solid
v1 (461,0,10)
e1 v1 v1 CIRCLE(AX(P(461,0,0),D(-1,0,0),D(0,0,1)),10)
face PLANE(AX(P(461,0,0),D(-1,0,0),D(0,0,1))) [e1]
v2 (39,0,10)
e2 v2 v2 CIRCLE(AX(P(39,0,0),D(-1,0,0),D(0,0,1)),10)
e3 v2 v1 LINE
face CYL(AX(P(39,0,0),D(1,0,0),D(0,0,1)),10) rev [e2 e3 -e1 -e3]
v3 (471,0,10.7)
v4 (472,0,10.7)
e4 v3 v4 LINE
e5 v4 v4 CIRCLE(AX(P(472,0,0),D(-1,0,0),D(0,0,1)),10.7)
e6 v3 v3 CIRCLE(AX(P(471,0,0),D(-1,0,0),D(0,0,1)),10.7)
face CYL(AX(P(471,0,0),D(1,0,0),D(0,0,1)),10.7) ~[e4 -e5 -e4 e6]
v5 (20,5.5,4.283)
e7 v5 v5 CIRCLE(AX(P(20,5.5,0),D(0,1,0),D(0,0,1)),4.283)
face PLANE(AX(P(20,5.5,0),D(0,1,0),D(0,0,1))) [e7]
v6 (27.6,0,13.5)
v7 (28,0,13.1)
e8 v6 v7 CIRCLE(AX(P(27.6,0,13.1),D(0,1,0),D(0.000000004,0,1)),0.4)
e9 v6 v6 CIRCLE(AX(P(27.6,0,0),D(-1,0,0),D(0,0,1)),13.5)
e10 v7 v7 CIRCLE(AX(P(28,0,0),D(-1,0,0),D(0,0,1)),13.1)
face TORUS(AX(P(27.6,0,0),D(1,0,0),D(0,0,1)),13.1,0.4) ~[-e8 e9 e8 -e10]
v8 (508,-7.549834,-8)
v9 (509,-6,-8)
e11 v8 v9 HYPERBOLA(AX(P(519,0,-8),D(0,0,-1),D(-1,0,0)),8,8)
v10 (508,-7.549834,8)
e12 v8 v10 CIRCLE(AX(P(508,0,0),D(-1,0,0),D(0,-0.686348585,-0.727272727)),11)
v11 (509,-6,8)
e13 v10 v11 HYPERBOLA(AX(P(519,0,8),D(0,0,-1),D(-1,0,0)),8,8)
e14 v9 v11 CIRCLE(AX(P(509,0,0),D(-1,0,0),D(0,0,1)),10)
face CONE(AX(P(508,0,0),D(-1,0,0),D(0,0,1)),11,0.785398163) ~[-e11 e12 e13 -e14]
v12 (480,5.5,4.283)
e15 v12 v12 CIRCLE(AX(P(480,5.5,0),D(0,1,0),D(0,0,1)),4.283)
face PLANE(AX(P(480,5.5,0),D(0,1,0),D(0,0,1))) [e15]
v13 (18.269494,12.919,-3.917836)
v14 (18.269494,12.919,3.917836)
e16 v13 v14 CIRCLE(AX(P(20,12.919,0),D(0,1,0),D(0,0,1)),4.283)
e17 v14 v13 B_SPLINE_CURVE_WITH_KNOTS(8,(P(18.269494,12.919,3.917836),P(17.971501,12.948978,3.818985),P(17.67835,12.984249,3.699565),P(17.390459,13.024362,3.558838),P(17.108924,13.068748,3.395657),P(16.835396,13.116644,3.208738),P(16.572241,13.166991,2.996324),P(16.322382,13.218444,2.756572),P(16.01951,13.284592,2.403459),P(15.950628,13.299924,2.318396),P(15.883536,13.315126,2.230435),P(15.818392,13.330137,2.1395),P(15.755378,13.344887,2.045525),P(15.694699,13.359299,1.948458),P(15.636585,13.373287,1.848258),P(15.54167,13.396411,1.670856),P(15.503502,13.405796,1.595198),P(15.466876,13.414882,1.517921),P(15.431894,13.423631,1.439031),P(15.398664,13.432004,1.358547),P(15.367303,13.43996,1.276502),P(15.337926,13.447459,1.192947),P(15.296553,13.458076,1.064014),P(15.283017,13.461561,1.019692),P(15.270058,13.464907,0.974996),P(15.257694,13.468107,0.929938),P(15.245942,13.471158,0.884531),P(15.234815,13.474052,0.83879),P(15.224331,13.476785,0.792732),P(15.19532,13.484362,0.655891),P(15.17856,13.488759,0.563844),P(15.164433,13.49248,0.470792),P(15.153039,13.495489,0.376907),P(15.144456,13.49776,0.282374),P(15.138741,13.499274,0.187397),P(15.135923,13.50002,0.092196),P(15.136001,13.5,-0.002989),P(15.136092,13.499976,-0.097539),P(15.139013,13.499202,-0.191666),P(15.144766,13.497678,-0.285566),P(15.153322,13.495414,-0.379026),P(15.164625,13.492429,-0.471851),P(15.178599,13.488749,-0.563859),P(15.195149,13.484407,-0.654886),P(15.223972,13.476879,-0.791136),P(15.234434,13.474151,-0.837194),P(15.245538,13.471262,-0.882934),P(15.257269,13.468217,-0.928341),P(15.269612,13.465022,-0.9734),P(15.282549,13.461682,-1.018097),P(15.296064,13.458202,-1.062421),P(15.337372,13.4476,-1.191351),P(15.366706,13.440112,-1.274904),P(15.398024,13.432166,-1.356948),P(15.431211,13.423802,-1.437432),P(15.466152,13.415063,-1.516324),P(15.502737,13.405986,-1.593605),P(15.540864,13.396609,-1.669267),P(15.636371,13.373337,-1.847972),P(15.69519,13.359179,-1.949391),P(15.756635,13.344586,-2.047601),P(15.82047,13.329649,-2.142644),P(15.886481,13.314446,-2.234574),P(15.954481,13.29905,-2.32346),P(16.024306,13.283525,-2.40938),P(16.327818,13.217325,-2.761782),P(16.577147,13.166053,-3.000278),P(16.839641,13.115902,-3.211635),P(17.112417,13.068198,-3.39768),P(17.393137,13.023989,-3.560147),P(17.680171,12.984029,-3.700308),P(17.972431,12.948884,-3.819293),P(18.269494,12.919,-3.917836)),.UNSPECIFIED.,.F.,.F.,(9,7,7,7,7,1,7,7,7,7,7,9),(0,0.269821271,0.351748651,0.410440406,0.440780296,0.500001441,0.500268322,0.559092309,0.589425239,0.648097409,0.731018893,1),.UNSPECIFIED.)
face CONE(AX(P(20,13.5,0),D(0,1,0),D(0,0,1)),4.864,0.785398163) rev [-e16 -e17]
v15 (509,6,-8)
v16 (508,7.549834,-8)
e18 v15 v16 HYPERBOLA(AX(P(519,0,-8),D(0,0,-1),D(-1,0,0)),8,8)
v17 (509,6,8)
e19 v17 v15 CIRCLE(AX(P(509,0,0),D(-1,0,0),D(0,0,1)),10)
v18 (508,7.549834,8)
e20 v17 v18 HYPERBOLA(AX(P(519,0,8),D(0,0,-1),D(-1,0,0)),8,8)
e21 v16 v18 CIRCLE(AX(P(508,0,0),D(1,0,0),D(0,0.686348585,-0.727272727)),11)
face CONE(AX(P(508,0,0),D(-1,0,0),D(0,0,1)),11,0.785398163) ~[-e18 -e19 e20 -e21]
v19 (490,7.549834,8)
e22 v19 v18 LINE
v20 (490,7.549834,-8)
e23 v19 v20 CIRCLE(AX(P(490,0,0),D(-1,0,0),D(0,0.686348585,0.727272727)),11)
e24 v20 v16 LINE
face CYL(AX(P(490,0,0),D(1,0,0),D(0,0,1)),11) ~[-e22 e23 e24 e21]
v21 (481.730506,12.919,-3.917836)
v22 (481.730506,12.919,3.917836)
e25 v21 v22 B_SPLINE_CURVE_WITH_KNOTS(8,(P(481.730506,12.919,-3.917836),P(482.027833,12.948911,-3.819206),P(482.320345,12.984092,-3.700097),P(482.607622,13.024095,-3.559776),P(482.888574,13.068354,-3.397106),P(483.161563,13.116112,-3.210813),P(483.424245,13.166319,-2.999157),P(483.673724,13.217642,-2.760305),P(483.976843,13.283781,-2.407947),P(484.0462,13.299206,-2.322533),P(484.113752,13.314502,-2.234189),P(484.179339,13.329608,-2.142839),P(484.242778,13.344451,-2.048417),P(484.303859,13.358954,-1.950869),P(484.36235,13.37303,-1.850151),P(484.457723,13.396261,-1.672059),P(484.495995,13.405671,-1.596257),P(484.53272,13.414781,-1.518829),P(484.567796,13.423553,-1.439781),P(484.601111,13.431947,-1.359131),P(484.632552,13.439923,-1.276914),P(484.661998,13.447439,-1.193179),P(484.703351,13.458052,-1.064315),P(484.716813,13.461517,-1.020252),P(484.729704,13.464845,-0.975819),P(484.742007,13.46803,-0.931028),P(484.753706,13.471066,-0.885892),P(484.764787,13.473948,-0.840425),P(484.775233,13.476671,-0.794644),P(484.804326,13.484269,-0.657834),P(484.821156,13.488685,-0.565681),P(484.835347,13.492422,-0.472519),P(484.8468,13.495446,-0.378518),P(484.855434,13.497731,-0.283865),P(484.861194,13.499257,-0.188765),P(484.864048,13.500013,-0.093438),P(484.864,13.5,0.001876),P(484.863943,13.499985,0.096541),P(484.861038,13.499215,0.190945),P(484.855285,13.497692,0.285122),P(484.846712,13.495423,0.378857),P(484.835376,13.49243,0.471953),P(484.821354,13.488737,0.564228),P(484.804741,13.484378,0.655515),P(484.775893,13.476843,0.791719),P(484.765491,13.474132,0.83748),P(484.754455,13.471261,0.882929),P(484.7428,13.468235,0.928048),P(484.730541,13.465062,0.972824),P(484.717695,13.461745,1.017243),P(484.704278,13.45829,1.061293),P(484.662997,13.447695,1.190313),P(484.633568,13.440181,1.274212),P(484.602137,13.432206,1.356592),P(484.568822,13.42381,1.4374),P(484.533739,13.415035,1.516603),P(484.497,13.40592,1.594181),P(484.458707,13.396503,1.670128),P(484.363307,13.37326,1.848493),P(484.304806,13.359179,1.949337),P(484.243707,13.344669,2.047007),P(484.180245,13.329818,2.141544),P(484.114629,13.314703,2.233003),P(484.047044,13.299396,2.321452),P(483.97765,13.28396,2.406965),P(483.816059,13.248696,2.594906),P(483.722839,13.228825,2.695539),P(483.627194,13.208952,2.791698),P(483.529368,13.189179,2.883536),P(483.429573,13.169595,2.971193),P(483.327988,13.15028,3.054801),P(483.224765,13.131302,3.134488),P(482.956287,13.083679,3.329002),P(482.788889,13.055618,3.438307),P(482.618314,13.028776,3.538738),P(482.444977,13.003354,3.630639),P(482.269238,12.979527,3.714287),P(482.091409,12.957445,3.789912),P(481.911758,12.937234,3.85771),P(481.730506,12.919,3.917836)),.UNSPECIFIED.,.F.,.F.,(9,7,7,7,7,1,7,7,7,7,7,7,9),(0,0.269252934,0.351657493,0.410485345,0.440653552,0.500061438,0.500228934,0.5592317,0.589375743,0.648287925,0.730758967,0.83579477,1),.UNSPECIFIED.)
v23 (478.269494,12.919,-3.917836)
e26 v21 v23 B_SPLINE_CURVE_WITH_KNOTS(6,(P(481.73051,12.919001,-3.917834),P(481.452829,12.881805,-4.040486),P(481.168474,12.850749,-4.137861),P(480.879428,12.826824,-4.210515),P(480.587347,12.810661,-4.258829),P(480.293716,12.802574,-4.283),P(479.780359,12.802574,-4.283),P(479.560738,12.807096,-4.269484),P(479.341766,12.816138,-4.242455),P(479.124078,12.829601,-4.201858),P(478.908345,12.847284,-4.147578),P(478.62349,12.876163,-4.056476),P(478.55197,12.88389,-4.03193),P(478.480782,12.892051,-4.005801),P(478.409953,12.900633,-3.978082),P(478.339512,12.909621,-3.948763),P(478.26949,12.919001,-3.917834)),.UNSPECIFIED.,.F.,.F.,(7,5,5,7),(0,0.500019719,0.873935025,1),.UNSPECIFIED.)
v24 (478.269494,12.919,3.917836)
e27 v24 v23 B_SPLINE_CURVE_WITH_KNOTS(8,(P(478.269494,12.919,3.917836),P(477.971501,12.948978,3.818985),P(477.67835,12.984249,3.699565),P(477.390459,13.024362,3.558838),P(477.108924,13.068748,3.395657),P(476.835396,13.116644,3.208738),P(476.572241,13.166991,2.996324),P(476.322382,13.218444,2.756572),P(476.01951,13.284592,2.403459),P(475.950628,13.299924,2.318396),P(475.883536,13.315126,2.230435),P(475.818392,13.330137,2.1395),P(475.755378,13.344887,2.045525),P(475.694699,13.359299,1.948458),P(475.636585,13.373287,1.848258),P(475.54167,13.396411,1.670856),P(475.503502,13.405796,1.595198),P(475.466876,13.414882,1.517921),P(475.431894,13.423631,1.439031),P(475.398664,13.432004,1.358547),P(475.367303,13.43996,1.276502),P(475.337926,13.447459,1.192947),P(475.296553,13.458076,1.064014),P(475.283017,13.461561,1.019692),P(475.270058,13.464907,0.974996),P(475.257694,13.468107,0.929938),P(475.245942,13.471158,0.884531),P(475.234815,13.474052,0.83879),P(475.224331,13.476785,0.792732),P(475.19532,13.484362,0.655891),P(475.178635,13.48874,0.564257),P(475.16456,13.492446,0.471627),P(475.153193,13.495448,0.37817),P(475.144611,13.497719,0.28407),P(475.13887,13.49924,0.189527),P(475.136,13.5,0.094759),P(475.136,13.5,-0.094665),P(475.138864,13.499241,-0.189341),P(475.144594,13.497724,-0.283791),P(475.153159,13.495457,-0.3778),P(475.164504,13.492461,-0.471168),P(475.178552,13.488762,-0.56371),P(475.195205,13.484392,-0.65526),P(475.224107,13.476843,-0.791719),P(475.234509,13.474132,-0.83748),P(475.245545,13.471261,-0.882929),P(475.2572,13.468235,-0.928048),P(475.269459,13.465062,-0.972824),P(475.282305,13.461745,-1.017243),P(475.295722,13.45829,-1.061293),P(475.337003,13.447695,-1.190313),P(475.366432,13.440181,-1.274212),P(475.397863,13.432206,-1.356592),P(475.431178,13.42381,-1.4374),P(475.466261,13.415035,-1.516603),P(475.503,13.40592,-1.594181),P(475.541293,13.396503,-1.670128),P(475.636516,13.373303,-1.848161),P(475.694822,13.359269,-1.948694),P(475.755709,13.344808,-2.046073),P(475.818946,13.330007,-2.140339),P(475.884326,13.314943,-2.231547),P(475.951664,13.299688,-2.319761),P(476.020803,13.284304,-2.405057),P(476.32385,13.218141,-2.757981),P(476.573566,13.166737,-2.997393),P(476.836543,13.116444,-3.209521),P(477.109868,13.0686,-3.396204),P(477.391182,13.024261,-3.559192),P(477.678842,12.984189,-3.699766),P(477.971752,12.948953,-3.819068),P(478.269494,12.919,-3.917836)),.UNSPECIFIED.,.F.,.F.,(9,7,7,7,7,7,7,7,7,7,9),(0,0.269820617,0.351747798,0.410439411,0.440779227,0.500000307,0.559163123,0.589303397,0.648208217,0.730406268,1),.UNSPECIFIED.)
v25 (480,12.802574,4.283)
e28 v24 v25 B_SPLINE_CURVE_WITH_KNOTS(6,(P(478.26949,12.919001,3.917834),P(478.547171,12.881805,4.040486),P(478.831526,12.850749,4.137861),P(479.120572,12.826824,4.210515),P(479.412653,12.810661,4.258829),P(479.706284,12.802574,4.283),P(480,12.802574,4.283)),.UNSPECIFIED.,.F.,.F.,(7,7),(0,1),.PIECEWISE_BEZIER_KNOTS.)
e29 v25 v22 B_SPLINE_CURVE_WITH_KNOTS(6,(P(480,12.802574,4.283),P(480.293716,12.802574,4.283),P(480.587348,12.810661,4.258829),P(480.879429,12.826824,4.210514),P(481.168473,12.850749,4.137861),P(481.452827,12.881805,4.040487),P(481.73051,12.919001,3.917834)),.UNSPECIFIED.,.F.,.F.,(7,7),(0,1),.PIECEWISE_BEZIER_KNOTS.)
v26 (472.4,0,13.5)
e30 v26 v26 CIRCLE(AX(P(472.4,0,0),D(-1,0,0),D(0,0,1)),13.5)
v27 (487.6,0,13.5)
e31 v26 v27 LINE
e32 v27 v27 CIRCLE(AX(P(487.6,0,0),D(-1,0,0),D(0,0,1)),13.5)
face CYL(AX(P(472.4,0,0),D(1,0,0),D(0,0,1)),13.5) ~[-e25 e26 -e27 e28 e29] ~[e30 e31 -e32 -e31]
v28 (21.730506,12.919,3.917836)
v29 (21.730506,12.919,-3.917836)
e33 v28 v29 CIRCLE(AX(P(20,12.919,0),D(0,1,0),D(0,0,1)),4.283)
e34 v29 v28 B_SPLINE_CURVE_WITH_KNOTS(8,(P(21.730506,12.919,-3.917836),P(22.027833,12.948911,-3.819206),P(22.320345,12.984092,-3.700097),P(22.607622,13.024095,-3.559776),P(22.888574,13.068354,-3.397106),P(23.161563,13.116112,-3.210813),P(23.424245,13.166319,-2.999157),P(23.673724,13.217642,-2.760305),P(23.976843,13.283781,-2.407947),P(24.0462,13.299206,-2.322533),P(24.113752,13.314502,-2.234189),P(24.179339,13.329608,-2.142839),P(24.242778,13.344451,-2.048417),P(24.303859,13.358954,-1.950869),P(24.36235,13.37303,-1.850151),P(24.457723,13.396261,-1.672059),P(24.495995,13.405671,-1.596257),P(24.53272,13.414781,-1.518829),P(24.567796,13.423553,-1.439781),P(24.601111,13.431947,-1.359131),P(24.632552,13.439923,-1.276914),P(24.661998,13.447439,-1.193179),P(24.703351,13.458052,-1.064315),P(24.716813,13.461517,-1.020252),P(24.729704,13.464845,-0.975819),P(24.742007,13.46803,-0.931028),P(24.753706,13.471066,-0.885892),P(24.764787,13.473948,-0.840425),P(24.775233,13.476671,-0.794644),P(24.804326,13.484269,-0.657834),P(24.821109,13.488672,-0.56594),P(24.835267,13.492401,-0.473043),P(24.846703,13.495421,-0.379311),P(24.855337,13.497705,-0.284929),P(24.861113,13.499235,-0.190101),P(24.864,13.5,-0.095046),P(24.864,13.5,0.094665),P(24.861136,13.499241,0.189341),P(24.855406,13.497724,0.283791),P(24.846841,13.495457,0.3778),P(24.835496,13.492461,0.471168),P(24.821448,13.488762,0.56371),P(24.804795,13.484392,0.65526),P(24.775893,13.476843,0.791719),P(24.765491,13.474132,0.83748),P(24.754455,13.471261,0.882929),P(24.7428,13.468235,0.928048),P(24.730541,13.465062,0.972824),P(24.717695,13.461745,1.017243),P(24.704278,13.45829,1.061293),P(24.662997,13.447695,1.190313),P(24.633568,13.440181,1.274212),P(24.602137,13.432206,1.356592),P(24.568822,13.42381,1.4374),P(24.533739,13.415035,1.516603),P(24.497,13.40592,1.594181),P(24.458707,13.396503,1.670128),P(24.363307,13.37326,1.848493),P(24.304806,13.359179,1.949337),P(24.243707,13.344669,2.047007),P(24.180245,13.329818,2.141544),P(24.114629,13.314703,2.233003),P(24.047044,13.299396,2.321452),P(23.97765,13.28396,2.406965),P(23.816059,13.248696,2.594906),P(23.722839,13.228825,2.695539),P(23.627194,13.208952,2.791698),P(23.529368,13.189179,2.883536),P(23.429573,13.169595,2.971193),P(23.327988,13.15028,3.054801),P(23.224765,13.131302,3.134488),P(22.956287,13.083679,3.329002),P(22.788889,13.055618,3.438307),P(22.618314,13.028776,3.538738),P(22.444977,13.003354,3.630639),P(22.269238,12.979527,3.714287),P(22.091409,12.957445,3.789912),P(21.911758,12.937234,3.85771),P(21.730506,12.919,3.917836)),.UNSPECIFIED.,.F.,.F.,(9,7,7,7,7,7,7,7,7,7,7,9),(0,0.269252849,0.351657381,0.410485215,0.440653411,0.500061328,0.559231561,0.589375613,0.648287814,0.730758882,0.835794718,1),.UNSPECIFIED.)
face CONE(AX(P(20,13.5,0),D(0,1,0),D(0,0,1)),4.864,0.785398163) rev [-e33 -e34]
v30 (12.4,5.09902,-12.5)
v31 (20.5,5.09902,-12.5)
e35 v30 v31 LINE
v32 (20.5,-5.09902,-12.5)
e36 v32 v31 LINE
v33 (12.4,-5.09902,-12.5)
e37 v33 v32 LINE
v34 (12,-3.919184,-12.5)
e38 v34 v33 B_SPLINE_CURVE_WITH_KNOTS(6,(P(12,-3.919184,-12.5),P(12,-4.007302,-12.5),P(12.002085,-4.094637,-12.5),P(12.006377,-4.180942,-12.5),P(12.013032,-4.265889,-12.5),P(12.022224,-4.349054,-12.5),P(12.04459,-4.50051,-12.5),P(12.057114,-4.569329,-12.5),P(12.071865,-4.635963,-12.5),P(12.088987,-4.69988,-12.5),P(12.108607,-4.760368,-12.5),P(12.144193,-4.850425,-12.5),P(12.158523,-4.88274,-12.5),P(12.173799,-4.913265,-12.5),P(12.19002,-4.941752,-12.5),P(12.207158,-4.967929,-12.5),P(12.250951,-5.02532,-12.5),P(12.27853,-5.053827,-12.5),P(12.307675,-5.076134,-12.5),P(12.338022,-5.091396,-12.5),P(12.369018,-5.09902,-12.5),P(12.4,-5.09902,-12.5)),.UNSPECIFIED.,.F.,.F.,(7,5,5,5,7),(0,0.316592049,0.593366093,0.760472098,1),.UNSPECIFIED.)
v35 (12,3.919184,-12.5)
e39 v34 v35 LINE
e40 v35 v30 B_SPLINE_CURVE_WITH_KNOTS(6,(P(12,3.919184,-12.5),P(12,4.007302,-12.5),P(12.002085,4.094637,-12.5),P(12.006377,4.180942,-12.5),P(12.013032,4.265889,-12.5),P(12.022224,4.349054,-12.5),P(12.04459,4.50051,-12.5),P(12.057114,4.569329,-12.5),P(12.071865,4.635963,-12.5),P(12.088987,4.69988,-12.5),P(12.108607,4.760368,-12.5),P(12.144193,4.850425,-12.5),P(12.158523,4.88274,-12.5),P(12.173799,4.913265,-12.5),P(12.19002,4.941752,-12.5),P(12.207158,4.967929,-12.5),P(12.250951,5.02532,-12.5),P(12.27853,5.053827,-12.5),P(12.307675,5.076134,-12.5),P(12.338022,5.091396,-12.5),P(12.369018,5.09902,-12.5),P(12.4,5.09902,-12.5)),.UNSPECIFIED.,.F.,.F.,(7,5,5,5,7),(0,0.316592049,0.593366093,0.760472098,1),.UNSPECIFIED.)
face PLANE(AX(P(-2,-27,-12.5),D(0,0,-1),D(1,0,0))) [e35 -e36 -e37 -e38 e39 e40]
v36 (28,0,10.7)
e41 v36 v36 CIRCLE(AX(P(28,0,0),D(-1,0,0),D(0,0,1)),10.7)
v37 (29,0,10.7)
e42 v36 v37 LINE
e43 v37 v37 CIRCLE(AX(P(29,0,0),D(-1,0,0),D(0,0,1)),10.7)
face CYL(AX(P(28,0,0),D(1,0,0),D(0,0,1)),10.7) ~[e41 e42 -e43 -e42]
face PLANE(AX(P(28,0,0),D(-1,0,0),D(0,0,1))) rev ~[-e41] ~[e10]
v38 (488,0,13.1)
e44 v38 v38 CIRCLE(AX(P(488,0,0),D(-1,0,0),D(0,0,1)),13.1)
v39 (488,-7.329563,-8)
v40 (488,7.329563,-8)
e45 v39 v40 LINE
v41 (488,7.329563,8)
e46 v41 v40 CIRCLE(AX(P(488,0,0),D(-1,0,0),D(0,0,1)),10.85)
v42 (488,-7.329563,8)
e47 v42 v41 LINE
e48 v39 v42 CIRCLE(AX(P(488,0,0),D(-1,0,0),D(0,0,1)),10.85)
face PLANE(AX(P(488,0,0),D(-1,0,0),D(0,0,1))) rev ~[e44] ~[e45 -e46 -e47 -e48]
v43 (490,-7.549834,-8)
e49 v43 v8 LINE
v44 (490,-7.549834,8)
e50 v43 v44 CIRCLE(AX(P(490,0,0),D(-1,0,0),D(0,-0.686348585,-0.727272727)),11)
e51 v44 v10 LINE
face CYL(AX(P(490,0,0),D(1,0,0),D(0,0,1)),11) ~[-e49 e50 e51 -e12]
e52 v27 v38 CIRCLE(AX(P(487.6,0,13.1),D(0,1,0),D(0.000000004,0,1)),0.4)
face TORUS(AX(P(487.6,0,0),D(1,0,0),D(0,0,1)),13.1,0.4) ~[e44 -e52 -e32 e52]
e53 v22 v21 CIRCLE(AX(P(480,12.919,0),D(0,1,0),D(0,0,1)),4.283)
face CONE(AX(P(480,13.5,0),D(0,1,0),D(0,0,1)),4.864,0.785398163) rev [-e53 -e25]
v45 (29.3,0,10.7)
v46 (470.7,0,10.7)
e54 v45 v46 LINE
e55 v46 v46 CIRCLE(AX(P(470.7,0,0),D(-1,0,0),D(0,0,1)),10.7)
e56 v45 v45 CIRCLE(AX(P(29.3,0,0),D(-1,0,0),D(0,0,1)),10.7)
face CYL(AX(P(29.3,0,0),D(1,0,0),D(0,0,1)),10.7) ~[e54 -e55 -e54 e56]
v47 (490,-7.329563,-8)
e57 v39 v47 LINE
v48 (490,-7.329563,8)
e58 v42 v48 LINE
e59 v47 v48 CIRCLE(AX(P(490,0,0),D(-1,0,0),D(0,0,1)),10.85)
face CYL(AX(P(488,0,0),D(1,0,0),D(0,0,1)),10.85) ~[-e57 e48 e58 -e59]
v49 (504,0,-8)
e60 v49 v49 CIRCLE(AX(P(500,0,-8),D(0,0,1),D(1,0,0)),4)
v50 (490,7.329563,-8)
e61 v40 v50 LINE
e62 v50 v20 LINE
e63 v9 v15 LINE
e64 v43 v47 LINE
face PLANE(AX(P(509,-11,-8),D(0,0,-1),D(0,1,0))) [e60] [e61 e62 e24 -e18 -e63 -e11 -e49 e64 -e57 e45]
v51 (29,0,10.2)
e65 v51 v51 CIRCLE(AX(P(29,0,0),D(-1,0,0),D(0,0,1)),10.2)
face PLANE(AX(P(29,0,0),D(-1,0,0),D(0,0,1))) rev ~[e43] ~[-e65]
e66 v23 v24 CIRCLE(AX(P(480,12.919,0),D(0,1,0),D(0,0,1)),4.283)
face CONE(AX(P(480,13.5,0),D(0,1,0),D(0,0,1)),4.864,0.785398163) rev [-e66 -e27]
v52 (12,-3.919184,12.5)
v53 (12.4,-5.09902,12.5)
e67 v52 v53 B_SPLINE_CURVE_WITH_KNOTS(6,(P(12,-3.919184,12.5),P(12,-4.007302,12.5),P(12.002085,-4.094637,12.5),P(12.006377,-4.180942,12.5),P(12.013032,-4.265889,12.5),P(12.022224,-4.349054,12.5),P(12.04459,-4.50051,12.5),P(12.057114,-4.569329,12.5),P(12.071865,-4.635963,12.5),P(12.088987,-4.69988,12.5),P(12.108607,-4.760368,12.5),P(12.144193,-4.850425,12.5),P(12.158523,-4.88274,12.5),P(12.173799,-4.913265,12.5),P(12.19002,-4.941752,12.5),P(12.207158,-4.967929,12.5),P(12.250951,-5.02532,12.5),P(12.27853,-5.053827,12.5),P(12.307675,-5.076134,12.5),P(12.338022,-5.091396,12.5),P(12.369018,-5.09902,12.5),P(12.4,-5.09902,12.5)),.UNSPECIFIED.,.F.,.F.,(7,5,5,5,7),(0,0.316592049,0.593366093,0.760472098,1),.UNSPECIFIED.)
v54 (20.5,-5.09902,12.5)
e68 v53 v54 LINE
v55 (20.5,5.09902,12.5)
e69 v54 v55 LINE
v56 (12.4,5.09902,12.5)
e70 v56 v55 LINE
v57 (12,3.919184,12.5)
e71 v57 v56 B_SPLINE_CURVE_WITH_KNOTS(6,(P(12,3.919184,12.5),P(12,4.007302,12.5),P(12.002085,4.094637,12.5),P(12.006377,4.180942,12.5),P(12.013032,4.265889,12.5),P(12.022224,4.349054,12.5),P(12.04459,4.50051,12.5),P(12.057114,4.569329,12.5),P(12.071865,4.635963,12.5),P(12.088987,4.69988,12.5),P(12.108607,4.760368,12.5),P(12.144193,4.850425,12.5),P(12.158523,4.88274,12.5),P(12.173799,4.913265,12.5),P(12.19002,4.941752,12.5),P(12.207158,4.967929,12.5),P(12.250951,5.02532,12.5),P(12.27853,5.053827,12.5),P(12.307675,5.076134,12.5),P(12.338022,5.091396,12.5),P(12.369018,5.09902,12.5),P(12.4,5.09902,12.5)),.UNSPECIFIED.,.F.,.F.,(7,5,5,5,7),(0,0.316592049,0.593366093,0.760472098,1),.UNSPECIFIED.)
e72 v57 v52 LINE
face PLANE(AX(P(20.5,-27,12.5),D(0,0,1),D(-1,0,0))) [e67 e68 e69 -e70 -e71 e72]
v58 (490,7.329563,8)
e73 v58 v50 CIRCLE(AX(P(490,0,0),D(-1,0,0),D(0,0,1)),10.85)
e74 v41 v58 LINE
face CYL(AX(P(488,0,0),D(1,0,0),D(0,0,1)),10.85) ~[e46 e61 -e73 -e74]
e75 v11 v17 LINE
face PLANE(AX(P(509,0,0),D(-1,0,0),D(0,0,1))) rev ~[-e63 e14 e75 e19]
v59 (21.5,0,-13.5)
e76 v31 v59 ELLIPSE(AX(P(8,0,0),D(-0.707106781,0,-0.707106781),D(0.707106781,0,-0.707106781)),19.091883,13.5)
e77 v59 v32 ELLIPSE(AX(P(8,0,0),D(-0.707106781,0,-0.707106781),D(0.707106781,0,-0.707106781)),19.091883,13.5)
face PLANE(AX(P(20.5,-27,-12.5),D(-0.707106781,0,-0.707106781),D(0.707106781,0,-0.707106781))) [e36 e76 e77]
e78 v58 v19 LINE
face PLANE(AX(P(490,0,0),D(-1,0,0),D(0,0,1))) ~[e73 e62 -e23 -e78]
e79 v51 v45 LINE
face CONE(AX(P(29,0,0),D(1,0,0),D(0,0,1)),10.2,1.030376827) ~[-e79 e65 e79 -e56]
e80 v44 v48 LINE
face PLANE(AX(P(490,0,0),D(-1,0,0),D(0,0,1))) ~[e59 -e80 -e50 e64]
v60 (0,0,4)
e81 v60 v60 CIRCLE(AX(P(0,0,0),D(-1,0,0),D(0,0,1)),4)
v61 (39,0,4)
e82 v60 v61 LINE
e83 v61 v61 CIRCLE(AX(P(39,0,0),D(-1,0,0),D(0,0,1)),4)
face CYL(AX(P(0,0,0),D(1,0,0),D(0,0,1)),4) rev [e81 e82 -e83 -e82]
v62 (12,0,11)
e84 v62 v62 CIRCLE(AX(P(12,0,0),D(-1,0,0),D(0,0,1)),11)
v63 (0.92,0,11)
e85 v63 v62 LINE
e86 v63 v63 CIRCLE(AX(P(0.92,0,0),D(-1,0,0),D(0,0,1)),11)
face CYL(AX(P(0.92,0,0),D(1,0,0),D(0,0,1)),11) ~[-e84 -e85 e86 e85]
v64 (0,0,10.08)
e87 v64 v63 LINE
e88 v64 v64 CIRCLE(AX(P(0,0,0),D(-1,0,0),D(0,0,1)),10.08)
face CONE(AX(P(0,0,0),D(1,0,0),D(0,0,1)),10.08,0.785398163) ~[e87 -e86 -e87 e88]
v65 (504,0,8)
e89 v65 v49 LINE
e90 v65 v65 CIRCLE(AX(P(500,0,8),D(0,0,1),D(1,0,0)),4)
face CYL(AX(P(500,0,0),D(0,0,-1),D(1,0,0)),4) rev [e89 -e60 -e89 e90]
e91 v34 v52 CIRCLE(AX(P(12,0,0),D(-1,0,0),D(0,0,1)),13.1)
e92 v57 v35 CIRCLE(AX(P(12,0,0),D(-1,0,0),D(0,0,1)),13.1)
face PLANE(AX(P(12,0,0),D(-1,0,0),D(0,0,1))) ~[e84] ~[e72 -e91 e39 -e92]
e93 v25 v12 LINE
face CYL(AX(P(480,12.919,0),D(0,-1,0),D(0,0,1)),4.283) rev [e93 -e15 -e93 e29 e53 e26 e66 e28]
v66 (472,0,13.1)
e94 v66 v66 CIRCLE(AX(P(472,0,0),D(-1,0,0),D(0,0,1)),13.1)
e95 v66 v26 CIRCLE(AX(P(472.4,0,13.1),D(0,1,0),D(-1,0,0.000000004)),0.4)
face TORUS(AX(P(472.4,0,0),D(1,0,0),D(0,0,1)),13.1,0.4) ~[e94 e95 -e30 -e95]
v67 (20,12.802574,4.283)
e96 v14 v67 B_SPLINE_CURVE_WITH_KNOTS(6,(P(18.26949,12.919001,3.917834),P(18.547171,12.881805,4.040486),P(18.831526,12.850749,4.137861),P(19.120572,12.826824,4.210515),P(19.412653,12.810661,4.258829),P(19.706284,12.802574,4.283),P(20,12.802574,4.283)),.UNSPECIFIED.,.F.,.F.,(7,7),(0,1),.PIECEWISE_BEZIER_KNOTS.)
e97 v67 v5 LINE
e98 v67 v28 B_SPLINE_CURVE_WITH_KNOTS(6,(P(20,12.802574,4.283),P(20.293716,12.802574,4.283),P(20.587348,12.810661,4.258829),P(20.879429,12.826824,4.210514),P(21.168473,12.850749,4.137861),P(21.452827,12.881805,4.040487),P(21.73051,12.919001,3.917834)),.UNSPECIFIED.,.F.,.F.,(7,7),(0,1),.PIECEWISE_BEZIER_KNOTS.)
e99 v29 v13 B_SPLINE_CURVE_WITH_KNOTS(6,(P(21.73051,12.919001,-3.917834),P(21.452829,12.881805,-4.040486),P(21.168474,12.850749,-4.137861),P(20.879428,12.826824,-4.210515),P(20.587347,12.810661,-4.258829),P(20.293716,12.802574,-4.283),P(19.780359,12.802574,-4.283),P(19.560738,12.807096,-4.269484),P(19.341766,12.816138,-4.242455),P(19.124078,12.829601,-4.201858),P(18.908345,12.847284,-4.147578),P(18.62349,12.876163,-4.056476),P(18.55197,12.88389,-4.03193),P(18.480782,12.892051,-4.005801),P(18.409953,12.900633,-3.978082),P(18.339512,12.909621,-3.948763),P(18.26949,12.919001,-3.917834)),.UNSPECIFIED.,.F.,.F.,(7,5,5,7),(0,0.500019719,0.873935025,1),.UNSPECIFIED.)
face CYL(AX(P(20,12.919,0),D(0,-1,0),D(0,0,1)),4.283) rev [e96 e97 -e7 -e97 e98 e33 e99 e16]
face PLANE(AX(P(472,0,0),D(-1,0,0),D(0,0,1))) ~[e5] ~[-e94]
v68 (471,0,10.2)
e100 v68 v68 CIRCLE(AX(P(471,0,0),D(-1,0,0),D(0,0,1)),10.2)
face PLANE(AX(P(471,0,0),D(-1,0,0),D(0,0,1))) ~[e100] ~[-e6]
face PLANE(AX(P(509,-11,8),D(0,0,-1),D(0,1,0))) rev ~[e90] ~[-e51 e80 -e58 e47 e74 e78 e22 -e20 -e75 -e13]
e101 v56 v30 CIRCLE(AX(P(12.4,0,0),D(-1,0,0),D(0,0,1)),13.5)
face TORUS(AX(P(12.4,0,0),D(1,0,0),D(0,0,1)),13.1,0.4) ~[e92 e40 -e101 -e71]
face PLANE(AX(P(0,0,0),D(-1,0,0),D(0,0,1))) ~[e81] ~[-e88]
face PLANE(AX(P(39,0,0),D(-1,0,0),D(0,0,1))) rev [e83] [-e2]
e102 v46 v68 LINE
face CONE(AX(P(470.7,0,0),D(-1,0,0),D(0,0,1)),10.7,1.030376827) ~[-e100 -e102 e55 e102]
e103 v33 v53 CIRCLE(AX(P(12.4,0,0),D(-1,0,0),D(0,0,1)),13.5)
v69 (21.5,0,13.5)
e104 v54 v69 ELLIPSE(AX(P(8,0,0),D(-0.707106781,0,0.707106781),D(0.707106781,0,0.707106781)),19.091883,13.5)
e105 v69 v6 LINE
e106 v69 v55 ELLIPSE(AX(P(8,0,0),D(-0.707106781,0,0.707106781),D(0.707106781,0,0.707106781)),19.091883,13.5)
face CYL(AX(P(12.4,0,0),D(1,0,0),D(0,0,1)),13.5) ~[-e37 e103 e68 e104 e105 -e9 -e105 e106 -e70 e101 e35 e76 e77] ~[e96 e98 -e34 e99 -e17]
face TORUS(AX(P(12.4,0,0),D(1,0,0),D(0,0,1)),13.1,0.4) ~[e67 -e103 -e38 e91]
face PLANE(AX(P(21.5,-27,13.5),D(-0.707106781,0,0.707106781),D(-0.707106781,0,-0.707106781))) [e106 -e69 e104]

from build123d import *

# Parameters (mm, degrees)
SKETCH_3_W               = 36
SKETCH_3_H               = 42
SKETCH_3_W_2             = 16
SKETCH_3_H_2             = 22
CUT_EXTRUDE_1_DEPTH      = 21
SKETCH_4_W               = 16
SKETCH_4_H               = 4
CUT_EXTRUDE_2_DEPTH      = 27
CUT_EXTRUDE_2_DEPTH_BACK = 27


with BuildPart() as part:
    # 草图1 → 旋转1 (revolve)
    with BuildSketch(Plane.XY):
        with BuildLine():
            Line((0, 0), (0, 10.08))
            Line((0, 10.08), (0.92, 11))
            Line((0.92, 11), (12, 11))
            Line((12, 11), (12, 13.1))
            ThreePointArc((12, 13.1), (12.117157288, 13.382842712), (12.4, 13.5))
            Line((12.4, 13.5), (27.6, 13.5))
            ThreePointArc((27.6, 13.5), (27.882842712, 13.382842712), (28, 13.1))
            Line((28, 13.1), (28, 10.7))
            Line((28, 10.7), (29, 10.7))
            Line((29, 10.7), (29, 10.2))
            Line((29, 10.2), (29.3, 10.7))
            Line((29.3, 10.7), (470.7, 10.7))
            Line((470.7, 10.7), (471, 10.2))
            Line((471, 10.2), (471, 10.7))
            Line((471, 10.7), (472, 10.7))
            Line((472, 10.7), (472, 13.1))
            ThreePointArc((472, 13.1), (472.117157288, 13.382842712), (472.4, 13.5))
            Line((472.4, 13.5), (487.6, 13.5))
            ThreePointArc((487.6, 13.5), (487.882842712, 13.382842712), (488, 13.1))
            Line((488, 13.1), (488, 0))
            Line((488, 0), (0, 0))
        make_face()
    revolve(axis=Axis((488, 0, 0), (-1, 0, 0)))

    # 草图2 → 旋转2 (revolve)
    with BuildSketch(Plane.XY):
        Polygon((488, 0), (488, 10.85), (490, 10.85), (490, 11), (508, 11), (509, 10), (509, 0), align=None)
    revolve(axis=Axis((509, 0, 0), (-1, 0, 0)))

    # 草图3 → 切除-拉伸1 (cut)
    with BuildSketch(Plane(origin=(509, 0, 0), x_dir=(0, 0, -1), z_dir=(1, 0, 0))):
        Rectangle(SKETCH_3_W, SKETCH_3_H)
        Rectangle(SKETCH_3_W_2, SKETCH_3_H_2, mode=Mode.SUBTRACT)
    extrude(amount=-CUT_EXTRUDE_1_DEPTH, mode=Mode.SUBTRACT)

    # 草图4 → 切除-旋转1 (revolve, cut)
    with BuildSketch(Plane(origin=(500, 0, 0), x_dir=(0, 0, -1), z_dir=(1, 0, 0))):
        with Locations((0, 2)):
            Rectangle(SKETCH_4_W, SKETCH_4_H)
    revolve(axis=Axis((500, 0, -8), (0, 0, 1)), mode=Mode.SUBTRACT)

    # 草图5 → 切除-旋转2 (revolve, cut)
    with BuildSketch(Plane.XY):
        Polygon((20, 13.5), (24.864, 13.5), (24.283, 12.919), (24.283, 5.5), (20, 5.5), align=None)
    revolve(axis=Axis((20, 5.5, 0), (0, 1, 0)), mode=Mode.SUBTRACT)

    # 草图6 → 切除-旋转3 (revolve, cut)
    with BuildSketch(Plane.XY):
        Polygon((480, 13.5), (484.864, 13.5), (484.283, 12.919), (484.283, 5.5), (480, 5.5), align=None)
    revolve(axis=Axis((480, 5.5, 0), (0, 1, 0)), mode=Mode.SUBTRACT)

    # 草图7 → 切除-拉伸2 (cut, two sides: drawn at the far end of the back side and taken through both)
    with BuildSketch(Plane(origin=(0, 0, 0), x_dir=(1, 0, 0), z_dir=(0, 1, 0)).offset(-CUT_EXTRUDE_2_DEPTH_BACK)):
        Polygon((-4, -13.5), (21.5, -13.5), (20.5, -12.5), (-2, -12.5), (-2, 12.5), (20.5, 12.5), (21.5, 13.5), (-4, 13.5), align=None)
    extrude(amount=CUT_EXTRUDE_2_DEPTH + CUT_EXTRUDE_2_DEPTH_BACK, mode=Mode.SUBTRACT)

    # 草图8 → 切除-旋转4 (revolve, cut)
    with BuildSketch(Plane.XY):
        Polygon((0, 0), (0, 4), (39, 4), (39, 10), (461, 10), (461, 0), align=None)
    revolve(axis=Axis((461, 0, 0), (-1, 0, 0)), mode=Mode.SUBTRACT)


solid = part.part
